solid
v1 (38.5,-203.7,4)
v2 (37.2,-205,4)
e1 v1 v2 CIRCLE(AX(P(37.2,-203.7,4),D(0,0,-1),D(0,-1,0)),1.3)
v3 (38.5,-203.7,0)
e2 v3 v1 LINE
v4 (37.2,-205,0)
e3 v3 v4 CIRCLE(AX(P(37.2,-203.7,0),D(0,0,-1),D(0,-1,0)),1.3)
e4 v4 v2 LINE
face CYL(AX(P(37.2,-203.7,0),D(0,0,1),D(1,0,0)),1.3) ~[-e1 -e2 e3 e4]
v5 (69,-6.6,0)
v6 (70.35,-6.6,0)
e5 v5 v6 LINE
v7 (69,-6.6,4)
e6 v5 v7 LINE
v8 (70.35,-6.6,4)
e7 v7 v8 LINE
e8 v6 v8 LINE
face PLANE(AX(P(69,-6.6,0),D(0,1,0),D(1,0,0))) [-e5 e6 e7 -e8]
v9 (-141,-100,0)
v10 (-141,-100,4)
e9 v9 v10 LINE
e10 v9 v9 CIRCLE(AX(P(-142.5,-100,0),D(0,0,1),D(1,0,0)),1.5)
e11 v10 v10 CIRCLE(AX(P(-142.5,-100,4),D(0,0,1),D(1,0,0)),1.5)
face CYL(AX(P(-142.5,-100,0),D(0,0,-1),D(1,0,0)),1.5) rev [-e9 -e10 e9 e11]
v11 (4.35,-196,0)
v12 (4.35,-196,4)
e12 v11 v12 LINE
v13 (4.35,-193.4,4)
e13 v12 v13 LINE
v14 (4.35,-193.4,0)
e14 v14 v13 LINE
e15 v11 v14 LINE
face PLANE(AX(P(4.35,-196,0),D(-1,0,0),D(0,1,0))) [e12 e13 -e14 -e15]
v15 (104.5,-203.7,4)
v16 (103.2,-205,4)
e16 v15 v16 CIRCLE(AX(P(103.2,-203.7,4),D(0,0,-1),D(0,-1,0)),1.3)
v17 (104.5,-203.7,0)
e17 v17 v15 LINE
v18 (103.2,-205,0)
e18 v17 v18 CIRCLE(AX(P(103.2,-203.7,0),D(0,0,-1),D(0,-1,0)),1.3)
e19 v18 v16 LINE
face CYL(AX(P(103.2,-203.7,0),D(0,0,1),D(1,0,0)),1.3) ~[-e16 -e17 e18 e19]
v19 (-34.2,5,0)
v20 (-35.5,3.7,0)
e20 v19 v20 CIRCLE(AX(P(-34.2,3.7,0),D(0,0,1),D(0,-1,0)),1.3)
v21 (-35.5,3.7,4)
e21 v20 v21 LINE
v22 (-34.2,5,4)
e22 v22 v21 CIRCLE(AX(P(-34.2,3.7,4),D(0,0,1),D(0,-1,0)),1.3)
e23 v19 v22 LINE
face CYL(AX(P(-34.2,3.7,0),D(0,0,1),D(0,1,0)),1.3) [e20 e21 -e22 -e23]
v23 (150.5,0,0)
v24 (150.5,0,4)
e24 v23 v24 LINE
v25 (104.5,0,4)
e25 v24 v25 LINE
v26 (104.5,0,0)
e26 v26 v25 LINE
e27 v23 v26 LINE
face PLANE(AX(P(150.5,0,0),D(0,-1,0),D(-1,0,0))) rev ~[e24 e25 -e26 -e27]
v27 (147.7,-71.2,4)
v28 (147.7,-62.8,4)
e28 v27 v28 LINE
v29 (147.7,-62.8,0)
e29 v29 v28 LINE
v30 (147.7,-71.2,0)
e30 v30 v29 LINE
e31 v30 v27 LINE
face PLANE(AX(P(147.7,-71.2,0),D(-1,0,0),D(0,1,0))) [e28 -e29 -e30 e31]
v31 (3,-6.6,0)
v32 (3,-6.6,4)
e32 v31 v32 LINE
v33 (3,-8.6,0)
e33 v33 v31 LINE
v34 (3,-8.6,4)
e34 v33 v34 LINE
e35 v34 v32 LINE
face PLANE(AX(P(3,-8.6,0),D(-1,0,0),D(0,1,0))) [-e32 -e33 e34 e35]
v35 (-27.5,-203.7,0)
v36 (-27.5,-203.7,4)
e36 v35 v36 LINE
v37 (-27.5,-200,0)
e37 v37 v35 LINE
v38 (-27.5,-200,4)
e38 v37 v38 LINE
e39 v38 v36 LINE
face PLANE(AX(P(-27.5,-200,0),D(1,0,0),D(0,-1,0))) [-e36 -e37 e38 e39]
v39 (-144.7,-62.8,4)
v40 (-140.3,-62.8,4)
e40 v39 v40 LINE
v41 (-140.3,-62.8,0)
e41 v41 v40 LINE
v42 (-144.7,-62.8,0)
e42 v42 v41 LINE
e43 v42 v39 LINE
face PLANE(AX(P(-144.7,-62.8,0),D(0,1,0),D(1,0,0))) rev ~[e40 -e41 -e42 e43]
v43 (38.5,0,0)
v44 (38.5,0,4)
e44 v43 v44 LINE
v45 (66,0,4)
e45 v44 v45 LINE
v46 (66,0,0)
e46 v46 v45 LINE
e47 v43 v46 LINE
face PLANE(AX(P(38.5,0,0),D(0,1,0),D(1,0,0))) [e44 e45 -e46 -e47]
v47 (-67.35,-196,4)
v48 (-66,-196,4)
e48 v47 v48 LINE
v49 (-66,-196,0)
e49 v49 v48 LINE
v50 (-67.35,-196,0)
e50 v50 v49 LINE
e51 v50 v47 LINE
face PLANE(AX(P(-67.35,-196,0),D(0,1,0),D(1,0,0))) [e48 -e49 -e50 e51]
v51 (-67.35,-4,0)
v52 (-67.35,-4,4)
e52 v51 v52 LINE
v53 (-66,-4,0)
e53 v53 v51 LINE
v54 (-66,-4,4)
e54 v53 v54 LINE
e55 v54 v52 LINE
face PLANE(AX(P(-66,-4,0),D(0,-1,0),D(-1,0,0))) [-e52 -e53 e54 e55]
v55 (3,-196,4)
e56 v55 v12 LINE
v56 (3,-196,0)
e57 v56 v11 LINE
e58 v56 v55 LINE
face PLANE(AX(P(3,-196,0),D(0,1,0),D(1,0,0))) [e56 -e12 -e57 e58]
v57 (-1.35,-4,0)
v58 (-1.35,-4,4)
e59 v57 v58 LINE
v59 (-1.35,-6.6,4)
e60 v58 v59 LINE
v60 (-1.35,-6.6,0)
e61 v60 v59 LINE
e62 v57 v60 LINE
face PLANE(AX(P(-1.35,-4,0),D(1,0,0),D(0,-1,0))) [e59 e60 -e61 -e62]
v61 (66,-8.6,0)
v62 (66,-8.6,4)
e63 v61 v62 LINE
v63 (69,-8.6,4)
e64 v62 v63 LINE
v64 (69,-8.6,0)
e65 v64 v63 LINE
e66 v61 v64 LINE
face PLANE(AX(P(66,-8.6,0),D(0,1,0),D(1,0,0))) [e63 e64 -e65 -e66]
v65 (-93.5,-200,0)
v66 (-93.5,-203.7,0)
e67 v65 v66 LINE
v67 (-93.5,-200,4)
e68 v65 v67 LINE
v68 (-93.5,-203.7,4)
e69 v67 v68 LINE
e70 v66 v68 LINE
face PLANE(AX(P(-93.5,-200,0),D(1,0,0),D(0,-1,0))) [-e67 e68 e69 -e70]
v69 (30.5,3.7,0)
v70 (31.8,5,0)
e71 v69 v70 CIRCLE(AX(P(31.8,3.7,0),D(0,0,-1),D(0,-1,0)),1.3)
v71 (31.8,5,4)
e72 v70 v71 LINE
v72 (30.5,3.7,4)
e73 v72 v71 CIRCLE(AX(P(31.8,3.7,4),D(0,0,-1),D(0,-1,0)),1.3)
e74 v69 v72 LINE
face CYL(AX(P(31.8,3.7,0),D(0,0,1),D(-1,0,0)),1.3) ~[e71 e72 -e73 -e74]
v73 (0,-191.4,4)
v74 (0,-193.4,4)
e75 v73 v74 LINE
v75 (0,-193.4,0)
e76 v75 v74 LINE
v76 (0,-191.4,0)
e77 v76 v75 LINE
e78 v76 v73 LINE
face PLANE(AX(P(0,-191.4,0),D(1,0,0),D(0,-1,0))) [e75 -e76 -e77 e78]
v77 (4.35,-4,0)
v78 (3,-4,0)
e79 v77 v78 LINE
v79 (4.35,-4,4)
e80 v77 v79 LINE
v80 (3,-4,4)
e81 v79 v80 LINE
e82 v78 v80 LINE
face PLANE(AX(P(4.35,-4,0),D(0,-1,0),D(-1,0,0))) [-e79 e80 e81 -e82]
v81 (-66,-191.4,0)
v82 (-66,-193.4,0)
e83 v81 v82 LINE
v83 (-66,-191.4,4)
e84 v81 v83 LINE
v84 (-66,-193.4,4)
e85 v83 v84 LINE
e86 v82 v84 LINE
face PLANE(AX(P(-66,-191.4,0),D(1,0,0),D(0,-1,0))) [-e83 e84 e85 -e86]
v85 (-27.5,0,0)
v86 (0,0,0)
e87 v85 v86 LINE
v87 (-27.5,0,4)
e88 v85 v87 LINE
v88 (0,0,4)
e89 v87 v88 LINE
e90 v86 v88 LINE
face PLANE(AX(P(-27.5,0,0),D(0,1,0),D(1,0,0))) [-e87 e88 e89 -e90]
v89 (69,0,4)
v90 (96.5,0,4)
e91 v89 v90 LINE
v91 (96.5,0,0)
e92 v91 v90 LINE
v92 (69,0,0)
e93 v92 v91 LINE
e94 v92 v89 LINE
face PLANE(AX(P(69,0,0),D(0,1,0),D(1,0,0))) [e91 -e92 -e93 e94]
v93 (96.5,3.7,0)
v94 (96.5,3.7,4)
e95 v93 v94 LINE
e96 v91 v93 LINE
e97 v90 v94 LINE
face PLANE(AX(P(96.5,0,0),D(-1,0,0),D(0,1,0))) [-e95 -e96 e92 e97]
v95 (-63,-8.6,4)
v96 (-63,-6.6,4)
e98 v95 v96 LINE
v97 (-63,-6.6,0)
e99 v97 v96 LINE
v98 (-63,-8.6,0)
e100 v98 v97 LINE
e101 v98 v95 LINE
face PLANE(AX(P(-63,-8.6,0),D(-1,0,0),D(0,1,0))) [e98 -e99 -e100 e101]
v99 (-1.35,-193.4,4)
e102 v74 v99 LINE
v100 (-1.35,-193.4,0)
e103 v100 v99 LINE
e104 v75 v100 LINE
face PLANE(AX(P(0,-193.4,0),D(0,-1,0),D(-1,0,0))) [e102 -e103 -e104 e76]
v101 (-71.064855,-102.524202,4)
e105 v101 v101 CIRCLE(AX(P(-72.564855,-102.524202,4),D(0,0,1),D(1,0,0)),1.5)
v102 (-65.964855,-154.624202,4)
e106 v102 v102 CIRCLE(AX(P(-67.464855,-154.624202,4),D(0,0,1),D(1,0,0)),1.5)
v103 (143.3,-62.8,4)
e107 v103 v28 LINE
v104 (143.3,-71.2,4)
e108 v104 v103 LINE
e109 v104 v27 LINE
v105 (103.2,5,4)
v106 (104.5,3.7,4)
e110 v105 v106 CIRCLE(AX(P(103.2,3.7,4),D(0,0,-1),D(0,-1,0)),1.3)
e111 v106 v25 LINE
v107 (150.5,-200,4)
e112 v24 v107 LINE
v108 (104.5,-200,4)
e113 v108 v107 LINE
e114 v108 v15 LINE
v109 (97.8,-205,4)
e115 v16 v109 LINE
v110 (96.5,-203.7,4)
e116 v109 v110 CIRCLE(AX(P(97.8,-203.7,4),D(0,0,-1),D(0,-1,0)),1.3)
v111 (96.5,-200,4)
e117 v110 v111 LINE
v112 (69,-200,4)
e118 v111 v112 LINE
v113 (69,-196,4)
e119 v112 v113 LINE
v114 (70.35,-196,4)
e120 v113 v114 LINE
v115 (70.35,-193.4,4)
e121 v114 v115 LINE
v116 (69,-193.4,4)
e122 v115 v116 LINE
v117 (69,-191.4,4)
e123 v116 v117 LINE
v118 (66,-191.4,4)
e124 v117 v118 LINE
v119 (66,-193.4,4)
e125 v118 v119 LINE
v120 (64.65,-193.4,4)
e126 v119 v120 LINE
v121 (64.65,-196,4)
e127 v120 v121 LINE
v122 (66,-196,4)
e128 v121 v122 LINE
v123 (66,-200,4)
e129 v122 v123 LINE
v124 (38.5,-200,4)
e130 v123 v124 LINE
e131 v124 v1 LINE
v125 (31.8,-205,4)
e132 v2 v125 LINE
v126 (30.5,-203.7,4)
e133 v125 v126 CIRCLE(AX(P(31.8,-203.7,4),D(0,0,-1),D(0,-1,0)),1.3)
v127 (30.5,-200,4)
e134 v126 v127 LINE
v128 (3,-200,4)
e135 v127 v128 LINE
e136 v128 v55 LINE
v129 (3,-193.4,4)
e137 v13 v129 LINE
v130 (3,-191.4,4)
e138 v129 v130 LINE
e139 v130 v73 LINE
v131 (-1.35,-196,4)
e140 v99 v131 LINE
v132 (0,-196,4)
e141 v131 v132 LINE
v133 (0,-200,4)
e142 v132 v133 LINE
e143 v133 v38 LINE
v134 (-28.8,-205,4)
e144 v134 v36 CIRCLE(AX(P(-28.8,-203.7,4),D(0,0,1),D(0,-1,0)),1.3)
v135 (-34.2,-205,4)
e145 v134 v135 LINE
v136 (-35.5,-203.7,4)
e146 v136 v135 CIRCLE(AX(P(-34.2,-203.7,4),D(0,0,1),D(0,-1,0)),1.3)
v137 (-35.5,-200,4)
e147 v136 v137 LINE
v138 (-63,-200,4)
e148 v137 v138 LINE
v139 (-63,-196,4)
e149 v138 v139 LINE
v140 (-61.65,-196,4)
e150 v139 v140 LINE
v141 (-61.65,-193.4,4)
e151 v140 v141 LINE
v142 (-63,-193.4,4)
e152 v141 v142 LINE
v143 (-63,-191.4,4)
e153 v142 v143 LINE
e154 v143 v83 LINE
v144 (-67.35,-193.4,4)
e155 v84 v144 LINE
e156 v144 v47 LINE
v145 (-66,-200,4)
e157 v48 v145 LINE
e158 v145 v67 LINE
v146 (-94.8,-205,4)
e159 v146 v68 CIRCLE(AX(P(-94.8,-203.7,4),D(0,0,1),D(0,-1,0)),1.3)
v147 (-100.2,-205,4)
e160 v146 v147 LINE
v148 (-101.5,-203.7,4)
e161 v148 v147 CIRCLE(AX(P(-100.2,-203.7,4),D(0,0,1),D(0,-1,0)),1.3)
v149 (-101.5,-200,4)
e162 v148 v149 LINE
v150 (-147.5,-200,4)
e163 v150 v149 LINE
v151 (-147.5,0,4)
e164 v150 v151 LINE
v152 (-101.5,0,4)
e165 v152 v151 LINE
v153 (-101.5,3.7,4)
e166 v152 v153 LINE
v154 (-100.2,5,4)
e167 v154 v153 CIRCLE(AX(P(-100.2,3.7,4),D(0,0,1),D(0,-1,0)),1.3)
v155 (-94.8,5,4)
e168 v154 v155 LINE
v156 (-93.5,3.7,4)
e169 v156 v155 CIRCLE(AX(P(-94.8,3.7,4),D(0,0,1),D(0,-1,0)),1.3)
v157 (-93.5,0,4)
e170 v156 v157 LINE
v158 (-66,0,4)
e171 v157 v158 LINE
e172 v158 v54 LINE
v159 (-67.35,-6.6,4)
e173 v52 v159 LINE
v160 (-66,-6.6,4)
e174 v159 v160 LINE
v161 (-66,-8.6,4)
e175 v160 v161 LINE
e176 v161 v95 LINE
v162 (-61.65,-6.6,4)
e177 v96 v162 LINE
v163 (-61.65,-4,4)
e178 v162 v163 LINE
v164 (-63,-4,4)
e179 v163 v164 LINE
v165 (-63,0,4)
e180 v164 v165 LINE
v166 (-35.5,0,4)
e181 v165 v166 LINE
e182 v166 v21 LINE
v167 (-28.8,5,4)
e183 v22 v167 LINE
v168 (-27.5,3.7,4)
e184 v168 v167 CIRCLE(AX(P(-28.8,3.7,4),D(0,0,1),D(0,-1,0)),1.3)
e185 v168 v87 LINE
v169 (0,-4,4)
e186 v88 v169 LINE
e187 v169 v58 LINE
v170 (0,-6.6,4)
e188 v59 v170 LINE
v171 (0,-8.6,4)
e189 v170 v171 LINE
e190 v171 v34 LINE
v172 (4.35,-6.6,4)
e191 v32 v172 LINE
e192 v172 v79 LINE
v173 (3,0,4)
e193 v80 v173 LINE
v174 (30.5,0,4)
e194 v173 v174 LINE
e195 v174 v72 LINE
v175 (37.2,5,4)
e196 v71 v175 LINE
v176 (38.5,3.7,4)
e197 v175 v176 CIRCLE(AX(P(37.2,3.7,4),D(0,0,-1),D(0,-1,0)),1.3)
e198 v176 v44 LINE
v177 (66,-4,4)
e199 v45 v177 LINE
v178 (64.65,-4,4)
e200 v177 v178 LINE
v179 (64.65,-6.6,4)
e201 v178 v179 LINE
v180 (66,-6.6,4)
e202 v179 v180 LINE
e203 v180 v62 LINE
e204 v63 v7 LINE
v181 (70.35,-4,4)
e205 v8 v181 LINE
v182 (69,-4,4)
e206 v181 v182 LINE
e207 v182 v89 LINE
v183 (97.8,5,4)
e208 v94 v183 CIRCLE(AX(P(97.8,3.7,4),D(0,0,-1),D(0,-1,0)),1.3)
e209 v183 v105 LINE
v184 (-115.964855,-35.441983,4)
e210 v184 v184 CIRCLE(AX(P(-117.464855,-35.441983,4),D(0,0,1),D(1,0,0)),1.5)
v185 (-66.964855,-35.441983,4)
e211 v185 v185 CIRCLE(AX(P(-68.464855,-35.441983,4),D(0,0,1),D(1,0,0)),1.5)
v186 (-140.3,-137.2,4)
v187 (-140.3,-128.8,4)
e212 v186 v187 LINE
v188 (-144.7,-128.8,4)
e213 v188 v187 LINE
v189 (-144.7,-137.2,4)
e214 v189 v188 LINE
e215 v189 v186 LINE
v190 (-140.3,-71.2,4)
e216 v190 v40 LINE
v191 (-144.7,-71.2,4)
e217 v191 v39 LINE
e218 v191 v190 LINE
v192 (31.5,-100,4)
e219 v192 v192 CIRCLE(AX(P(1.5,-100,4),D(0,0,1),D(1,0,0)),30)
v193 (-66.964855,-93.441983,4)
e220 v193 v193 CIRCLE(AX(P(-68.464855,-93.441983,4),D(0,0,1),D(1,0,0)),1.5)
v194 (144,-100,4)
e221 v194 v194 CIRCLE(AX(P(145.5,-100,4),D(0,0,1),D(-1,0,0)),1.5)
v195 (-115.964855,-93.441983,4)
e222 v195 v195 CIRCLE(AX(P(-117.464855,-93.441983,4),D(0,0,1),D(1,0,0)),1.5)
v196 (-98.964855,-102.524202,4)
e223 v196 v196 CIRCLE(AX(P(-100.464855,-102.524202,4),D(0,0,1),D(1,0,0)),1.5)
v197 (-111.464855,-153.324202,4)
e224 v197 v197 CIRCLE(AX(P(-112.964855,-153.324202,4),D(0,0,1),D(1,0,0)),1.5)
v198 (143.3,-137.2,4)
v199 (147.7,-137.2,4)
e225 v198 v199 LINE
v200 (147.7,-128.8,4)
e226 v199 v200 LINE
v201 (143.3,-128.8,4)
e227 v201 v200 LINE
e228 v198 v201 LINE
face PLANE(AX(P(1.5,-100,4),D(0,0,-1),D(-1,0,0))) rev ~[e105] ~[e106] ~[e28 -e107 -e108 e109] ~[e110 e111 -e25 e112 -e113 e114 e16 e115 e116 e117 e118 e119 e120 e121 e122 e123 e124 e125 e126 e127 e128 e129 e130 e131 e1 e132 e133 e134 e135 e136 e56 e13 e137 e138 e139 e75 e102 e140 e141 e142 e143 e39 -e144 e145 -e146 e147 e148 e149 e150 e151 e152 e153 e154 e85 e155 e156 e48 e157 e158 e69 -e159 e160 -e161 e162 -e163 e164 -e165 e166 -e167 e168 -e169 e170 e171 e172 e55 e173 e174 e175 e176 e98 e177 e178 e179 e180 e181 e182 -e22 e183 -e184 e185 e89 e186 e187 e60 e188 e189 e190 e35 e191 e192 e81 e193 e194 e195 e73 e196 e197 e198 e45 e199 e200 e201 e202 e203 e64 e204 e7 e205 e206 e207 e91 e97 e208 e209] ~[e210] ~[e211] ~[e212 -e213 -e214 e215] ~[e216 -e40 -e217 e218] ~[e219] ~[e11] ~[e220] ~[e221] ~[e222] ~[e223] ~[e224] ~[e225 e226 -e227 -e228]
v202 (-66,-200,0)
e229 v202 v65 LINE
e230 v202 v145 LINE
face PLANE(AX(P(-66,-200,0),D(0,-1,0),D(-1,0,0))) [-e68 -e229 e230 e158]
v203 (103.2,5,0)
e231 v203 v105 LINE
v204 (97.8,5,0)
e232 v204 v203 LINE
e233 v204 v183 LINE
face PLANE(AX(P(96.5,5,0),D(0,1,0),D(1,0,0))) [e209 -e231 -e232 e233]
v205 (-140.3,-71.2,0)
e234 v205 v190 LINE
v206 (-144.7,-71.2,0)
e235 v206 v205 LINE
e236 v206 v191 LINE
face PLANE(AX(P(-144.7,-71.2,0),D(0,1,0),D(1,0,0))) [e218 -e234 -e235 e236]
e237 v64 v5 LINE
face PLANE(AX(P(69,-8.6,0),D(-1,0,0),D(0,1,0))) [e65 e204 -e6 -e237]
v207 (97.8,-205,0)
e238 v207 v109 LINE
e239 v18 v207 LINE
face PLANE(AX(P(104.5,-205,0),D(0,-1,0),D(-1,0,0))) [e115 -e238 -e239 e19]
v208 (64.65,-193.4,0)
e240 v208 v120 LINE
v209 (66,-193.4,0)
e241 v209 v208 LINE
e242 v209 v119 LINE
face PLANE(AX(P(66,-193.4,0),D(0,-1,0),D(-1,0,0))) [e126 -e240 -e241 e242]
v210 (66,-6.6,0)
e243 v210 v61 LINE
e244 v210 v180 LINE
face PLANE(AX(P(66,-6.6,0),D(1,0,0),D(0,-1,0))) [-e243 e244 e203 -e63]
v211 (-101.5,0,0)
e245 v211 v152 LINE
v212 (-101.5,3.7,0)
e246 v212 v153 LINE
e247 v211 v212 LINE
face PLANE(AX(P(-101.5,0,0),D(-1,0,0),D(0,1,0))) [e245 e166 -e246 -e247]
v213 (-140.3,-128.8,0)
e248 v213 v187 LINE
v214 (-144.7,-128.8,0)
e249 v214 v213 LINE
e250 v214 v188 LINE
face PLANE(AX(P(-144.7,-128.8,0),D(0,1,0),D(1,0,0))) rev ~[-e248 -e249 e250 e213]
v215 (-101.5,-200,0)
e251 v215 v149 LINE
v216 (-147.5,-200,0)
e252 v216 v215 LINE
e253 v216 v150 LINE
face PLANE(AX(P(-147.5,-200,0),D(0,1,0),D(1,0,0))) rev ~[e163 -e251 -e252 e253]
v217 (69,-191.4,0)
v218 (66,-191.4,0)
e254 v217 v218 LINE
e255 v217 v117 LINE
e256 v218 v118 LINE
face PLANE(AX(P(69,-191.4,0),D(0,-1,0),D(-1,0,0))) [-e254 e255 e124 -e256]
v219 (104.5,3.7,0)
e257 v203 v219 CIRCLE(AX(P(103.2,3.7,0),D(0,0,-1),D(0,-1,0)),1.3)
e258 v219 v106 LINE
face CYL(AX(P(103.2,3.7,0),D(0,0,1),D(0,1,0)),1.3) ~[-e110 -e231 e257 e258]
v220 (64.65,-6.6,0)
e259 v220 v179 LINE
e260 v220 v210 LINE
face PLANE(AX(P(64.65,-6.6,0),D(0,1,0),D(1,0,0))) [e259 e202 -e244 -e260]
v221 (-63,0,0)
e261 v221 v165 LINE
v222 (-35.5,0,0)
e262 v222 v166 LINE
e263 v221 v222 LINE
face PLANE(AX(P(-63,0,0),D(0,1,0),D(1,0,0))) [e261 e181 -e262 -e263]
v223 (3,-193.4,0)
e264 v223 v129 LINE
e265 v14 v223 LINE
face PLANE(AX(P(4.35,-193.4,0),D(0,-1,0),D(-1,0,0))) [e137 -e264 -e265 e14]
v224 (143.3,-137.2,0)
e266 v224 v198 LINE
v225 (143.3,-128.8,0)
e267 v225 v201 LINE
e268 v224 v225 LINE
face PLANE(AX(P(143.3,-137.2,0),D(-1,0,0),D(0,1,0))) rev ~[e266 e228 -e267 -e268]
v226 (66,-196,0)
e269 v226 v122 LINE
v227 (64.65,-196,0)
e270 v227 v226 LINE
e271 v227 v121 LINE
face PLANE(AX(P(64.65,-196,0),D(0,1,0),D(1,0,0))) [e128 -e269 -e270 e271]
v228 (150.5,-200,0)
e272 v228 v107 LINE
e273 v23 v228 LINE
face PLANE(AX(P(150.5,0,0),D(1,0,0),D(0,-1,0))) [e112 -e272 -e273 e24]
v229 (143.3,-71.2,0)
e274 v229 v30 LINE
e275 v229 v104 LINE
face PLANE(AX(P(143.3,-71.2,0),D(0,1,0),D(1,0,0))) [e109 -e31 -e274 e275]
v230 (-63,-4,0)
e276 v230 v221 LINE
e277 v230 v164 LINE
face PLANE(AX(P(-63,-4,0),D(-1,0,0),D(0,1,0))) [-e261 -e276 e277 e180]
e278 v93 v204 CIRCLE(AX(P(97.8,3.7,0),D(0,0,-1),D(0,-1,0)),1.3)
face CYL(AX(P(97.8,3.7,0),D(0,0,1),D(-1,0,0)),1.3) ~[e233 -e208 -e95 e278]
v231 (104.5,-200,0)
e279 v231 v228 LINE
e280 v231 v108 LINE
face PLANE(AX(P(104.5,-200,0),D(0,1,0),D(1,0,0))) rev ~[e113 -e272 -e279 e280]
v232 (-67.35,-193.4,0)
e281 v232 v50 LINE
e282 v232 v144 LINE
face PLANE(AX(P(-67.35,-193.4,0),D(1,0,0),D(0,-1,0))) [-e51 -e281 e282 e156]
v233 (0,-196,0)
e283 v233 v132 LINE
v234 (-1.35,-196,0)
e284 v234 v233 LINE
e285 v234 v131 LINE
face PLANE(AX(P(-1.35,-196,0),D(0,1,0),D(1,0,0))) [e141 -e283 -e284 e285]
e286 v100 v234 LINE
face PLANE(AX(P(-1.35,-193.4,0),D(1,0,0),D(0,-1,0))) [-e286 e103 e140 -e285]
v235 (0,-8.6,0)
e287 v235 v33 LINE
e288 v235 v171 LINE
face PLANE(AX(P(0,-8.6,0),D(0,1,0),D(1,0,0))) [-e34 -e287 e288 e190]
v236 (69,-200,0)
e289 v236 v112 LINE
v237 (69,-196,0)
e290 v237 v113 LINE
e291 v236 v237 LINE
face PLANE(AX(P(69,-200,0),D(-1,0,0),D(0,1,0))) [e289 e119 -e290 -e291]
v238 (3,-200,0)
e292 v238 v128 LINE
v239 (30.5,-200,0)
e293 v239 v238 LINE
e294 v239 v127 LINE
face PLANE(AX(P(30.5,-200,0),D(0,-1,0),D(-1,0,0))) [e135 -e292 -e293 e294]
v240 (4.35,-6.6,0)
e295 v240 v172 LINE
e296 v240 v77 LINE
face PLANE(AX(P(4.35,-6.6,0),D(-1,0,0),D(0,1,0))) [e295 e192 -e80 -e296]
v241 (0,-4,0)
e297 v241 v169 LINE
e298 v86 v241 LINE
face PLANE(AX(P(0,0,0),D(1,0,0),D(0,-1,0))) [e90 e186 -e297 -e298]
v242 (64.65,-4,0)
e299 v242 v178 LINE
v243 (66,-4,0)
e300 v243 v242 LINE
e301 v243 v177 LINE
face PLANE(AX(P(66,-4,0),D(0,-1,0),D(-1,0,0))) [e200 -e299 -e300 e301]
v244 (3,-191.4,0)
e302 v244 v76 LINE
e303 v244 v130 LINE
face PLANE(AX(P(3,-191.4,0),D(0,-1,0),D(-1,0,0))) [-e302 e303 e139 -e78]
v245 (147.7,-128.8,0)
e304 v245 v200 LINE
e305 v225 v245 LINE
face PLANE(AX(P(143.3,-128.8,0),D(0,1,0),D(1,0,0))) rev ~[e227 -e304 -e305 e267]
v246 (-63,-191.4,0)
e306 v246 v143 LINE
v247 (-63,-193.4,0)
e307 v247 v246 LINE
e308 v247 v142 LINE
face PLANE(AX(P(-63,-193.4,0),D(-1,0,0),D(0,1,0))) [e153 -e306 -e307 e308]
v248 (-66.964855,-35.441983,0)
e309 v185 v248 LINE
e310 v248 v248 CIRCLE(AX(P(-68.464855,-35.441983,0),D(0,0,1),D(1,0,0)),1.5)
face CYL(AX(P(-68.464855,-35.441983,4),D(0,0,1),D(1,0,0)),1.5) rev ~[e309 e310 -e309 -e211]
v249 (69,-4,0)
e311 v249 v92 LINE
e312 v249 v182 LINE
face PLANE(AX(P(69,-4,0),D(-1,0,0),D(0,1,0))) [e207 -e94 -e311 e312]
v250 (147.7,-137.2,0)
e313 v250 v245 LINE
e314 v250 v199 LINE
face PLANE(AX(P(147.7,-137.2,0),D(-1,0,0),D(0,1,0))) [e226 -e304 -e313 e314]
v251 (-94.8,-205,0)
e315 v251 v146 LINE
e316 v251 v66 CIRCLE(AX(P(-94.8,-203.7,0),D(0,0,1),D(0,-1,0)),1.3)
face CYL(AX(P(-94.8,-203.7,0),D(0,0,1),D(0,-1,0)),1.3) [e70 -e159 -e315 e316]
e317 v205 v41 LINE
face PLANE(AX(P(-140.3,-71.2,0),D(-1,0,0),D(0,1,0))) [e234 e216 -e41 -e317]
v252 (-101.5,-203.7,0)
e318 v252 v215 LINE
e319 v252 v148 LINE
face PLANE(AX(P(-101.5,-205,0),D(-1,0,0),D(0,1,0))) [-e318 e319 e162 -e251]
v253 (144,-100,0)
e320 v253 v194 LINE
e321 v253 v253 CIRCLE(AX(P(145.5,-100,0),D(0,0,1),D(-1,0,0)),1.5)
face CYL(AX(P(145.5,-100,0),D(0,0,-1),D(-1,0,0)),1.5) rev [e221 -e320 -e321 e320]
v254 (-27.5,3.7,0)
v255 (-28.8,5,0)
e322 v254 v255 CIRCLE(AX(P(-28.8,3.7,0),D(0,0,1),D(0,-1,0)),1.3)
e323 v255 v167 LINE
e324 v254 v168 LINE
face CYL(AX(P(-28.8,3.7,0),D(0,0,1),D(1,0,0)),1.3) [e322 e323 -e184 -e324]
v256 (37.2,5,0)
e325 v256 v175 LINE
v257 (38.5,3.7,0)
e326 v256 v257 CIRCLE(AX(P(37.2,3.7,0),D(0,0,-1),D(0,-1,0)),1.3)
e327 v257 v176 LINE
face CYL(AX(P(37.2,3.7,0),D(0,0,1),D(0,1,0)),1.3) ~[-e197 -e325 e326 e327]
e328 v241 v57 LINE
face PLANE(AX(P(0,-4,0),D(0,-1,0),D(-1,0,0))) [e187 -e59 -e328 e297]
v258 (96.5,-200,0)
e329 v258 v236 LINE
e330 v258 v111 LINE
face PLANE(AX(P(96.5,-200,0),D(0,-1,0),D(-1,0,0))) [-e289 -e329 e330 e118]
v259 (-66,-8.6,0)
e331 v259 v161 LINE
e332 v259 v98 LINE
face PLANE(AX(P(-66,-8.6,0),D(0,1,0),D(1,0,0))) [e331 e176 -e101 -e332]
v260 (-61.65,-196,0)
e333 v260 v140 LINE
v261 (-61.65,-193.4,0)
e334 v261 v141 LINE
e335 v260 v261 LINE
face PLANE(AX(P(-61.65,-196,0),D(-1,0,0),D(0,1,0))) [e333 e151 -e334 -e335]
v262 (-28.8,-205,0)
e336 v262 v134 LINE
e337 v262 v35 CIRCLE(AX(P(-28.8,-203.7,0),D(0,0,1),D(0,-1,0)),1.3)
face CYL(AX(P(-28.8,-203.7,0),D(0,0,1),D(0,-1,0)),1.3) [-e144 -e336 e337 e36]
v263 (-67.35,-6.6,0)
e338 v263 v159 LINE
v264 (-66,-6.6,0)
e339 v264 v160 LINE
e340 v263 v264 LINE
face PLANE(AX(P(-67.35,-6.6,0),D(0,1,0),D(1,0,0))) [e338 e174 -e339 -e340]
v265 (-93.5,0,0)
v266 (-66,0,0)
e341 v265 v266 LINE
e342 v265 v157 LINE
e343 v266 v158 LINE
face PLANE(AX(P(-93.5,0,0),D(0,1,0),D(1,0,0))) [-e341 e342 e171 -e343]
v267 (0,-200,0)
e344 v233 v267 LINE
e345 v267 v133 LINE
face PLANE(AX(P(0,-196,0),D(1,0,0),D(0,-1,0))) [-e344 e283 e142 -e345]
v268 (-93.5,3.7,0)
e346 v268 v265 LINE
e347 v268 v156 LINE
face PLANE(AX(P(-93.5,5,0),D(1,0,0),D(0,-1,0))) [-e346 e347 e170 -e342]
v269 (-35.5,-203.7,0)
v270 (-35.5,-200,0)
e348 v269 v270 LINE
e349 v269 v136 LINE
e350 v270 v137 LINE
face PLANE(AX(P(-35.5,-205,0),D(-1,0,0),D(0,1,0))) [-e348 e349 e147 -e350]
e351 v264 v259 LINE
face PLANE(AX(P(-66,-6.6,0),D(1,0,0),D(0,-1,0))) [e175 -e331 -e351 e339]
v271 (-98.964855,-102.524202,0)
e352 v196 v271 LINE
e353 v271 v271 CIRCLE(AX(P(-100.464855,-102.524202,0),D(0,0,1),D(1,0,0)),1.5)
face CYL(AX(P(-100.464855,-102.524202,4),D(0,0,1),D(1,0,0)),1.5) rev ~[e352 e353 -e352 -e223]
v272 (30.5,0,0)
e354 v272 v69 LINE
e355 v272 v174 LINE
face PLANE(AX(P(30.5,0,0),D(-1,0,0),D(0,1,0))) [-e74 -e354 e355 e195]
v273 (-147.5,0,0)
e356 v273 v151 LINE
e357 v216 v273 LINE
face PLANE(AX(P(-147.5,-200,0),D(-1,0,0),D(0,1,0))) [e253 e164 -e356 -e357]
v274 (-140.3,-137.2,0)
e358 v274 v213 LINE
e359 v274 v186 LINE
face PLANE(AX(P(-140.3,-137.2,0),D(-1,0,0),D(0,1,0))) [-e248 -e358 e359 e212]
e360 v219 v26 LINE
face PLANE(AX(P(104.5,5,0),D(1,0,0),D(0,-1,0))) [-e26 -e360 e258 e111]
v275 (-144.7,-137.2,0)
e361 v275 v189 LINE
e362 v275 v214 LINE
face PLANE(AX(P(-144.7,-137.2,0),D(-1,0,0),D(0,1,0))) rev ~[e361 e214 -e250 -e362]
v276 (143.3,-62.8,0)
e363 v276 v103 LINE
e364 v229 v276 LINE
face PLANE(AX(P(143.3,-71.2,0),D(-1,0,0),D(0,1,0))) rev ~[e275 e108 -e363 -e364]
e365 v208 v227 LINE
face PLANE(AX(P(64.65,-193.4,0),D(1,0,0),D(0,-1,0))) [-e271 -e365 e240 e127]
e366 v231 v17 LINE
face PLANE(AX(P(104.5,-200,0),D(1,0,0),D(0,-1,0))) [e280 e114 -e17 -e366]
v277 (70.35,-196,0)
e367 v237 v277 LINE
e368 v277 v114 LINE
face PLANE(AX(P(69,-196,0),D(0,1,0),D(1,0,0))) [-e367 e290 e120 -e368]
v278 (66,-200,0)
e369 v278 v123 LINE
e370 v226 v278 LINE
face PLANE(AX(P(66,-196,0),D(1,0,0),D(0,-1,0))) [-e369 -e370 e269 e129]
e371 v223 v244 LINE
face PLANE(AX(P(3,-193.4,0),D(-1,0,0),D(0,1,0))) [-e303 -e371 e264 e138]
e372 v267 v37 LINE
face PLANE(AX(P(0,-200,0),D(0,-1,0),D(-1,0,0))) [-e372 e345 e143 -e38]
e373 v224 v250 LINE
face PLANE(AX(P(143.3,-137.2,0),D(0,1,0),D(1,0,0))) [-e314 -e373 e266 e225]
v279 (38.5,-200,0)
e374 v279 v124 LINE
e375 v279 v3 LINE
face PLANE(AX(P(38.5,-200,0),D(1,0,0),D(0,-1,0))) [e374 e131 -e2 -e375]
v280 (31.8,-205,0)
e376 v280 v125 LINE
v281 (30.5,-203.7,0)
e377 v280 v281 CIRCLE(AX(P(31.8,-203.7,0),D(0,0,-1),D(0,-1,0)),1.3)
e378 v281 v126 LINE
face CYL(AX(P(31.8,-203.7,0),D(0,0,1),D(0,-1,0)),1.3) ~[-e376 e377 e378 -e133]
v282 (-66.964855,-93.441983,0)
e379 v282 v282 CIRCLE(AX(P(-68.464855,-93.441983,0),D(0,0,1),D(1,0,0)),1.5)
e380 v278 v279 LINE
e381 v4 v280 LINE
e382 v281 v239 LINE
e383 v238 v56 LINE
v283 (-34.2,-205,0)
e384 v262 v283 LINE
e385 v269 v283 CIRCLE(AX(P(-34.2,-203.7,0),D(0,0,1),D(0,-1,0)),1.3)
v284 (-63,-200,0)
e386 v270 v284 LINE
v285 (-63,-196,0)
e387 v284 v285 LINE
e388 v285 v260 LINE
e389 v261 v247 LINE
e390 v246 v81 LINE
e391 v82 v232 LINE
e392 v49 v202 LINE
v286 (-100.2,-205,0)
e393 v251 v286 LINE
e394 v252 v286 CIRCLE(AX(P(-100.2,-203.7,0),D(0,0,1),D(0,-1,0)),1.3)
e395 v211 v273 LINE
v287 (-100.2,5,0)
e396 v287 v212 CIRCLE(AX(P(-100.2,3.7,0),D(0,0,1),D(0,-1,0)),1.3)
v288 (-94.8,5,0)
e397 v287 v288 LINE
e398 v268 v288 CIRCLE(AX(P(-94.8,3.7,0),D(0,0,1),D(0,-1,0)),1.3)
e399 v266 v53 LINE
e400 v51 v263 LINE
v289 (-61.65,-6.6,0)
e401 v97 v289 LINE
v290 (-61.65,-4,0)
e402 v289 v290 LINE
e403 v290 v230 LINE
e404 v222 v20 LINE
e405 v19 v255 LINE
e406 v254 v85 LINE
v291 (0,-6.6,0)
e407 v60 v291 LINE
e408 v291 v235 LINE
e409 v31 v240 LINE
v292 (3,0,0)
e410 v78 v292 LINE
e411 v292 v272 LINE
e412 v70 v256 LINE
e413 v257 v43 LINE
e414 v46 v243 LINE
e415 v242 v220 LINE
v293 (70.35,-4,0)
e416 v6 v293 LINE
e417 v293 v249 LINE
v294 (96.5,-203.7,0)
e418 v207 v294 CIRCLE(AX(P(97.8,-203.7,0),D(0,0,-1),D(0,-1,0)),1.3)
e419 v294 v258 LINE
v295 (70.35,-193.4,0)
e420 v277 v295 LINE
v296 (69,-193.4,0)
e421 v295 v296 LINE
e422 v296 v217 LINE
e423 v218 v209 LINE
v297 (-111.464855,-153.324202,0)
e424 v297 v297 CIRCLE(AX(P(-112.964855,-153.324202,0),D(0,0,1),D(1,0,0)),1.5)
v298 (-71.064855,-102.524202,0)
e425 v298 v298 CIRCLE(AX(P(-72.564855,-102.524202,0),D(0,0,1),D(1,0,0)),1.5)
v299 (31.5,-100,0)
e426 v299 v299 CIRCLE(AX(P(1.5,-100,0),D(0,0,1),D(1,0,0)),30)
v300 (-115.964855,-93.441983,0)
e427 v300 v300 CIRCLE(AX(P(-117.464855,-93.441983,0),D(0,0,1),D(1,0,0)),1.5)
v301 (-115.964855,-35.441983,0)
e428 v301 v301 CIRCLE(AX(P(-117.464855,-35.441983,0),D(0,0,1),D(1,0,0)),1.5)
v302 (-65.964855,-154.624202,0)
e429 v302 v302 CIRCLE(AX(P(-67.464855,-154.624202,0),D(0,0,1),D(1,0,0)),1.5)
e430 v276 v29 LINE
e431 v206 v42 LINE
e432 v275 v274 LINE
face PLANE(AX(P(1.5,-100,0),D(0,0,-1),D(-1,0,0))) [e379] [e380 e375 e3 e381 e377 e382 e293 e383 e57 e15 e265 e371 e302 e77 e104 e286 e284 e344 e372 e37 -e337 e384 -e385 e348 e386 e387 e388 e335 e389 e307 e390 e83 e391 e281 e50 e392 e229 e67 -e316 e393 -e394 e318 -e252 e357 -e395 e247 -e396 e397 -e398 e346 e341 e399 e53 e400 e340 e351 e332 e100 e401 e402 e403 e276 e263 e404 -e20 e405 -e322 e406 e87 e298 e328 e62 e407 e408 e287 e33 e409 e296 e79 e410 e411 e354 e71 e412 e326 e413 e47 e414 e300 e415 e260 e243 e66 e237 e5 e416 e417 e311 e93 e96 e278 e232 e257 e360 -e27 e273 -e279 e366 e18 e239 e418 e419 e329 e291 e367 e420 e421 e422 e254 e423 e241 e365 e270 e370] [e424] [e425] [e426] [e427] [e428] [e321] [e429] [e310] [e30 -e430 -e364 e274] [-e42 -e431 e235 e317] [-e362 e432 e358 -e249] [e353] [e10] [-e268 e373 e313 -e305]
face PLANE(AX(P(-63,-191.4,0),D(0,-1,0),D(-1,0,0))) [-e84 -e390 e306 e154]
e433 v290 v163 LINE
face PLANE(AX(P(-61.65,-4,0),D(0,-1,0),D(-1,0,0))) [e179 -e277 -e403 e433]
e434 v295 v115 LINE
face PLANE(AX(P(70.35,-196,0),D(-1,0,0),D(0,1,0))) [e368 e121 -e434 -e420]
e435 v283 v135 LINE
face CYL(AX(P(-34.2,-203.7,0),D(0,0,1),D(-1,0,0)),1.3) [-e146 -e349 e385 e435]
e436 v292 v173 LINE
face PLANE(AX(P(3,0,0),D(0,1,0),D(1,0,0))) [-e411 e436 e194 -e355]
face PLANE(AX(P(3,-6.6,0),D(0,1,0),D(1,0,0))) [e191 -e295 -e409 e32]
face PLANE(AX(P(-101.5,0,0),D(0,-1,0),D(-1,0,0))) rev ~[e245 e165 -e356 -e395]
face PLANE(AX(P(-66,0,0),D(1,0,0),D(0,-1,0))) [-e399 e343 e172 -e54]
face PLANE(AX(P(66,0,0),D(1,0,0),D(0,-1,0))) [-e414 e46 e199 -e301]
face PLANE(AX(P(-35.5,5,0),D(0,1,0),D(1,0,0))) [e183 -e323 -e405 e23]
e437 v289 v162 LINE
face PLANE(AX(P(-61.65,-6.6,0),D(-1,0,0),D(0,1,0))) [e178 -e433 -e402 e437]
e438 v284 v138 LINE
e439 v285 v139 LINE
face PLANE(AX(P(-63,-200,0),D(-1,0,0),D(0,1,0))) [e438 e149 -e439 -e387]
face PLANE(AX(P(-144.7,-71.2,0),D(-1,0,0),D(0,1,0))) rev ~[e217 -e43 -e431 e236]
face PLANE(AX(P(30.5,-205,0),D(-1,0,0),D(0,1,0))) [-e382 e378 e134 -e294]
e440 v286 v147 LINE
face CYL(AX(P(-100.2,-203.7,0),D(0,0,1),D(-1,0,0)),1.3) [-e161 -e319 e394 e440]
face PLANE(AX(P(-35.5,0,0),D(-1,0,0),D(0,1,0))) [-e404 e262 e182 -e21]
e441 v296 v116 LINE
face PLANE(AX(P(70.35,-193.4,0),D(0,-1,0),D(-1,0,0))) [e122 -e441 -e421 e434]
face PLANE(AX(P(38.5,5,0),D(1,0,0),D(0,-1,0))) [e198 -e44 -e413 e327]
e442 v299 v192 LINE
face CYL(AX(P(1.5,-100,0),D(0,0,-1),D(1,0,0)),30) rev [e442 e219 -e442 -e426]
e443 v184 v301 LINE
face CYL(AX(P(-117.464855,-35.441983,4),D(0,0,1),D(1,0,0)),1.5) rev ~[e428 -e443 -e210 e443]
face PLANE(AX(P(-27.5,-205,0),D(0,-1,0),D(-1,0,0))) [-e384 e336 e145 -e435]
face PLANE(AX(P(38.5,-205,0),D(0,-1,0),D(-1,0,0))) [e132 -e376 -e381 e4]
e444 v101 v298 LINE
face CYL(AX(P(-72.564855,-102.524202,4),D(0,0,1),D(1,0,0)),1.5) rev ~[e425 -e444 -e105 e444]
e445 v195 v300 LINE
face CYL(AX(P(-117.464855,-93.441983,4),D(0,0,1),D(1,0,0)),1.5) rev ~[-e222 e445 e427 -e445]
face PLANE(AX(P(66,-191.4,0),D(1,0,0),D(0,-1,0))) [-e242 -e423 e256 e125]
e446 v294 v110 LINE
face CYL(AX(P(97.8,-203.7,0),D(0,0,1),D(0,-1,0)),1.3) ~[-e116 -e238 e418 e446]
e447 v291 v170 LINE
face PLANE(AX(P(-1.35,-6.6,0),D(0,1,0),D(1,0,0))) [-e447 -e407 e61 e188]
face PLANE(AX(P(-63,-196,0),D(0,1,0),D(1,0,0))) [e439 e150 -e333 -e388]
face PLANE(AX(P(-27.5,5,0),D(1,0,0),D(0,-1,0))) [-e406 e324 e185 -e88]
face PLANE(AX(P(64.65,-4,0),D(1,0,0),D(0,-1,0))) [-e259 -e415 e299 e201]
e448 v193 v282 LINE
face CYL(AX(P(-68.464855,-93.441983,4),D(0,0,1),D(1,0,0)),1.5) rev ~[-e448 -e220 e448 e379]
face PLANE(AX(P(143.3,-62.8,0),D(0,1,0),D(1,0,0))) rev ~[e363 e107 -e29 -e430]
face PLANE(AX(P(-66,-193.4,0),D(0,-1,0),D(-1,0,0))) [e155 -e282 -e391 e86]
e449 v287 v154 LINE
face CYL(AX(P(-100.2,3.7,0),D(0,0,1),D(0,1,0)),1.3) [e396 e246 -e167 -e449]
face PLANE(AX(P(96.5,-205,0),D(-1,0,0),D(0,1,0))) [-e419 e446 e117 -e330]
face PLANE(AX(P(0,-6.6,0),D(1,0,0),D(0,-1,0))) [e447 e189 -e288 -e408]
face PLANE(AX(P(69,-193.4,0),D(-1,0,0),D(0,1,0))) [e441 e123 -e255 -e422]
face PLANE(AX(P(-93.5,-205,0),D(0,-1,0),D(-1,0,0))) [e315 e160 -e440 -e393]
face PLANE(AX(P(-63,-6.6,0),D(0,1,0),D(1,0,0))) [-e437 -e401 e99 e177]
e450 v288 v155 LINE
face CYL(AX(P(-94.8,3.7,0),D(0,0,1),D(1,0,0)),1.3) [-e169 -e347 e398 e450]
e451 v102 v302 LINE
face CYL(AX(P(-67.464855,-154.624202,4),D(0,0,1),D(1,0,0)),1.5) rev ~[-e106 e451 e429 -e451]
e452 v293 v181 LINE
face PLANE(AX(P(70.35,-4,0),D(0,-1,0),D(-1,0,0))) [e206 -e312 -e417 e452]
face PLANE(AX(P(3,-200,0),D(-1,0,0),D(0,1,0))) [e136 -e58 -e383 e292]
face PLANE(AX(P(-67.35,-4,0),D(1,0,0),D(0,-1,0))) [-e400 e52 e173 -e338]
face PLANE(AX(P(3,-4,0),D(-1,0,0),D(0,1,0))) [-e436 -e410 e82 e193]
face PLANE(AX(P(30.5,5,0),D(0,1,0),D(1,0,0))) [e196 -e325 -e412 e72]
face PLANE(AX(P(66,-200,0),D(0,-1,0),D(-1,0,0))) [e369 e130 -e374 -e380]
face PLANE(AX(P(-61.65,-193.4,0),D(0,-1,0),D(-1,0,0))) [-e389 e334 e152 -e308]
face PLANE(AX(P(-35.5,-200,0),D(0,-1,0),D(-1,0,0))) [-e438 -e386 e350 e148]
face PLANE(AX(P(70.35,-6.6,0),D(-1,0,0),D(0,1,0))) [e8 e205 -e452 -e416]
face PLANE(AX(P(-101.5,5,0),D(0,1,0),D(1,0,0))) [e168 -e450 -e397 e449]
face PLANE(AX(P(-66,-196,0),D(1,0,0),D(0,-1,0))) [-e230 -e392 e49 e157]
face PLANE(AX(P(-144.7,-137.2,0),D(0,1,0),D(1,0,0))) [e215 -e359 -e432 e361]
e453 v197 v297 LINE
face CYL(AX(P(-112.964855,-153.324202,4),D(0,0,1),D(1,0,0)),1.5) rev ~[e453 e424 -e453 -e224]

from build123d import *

# Parameters (mm, degrees)
SKETCH_1_R          = 1.5
SKETCH_1_R_2        = 30
SKETCH_1_W          = 4.4
SKETCH_1_H          = 8.4
EXTRUDE_1_DEPTH     = 4
SKETCH_4_R          = 1.5
CUT_EXTRUDE_1_DEPTH = 10
FILLET_1_R          = 1.3


with BuildPart() as part:
    # 草图1 → 凸台-拉伸1 (new body)
    with BuildSketch(Plane.XY):
        Polygon((0, 0), (0, -4), (-1.35, -4), (-1.35, -6.6), (0, -6.6), (0, -8.6), (3, -8.6), (3, -6.6), (4.35, -6.6), (4.35, -4), (3, -4), (3, 0), (30.5, 0), (30.5, 5), (38.5, 5), (38.5, 0), (66, 0), (66, -4), (64.65, -4), (64.65, -6.6), (66, -6.6), (66, -8.6), (69, -8.6), (69, -6.6), (70.35, -6.6), (70.35, -4), (69, -4), (69, 0), (96.5, 0), (96.5, 5), (104.5, 5), (104.5, 0), (132, 0), (143.5, 0), (145.5, 0), (150.5, 0), (150.5, -200), (145.5, -200), (143.5, -200), (132, -200), (104.5, -200), (104.5, -205), (96.5, -205), (96.5, -200), (69, -200), (69, -196), (70.35, -196), (70.35, -193.4), (69, -193.4), (69, -191.4), (66, -191.4), (66, -193.4), (64.65, -193.4), (64.65, -196), (66, -196), (66, -200), (38.5, -200), (38.5, -205), (30.5, -205), (30.5, -200), (3, -200), (3, -196), (4.35, -196), (4.35, -193.4), (3, -193.4), (3, -191.4), (0, -191.4), (0, -193.4), (-1.35, -193.4), (-1.35, -196), (0, -196), (0, -200), (-27.5, -200), (-27.5, -205), (-35.5, -205), (-35.5, -200), (-63, -200), (-63, -196), (-61.65, -196), (-61.65, -193.4), (-63, -193.4), (-63, -191.4), (-66, -191.4), (-66, -193.4), (-67.35, -193.4), (-67.35, -196), (-66, -196), (-66, -200), (-93.5, -200), (-93.5, -205), (-101.5, -205), (-101.5, -200), (-129, -200), (-140.5, -200), (-142.5, -200), (-147.5, -200), (-147.5, 0), (-142.5, 0), (-140.5, 0), (-129, 0), (-101.5, 0), (-101.5, 5), (-93.5, 5), (-93.5, 0), (-66, 0), (-66, -4), (-67.35, -4), (-67.35, -6.6), (-66, -6.6), (-66, -8.6), (-63, -8.6), (-63, -6.6), (-61.65, -6.6), (-61.65, -4), (-63, -4), (-63, 0), (-35.5, 0), (-35.5, 5), (-27.5, 5), (-27.5, 0), align=None)
        with Locations((-142.5, -100)):
            Circle(SKETCH_1_R, mode=Mode.SUBTRACT)
        with Locations(Location((145.5, -100, 0), (0, 0, 180))):
            Circle(SKETCH_1_R, mode=Mode.SUBTRACT)
        with Locations((1.5, -100)):
            Circle(SKETCH_1_R_2, mode=Mode.SUBTRACT)
        with Locations((-142.5, -67)):
            Rectangle(SKETCH_1_W, SKETCH_1_H, mode=Mode.SUBTRACT)
        with Locations((-142.5, -133)):
            Rectangle(SKETCH_1_W, SKETCH_1_H, mode=Mode.SUBTRACT)
        with Locations((145.5, -133)):
            Rectangle(SKETCH_1_W, SKETCH_1_H, mode=Mode.SUBTRACT)
        with Locations((145.5, -67)):
            Rectangle(SKETCH_1_W, SKETCH_1_H, mode=Mode.SUBTRACT)
    extrude(amount=EXTRUDE_1_DEPTH)

    # 草图4 → 切除-拉伸1 (cut)
    with BuildSketch(Plane.XY.offset(4)):
        with Locations((-100.464854909, -102.524202067)):
            Circle(SKETCH_4_R)
        with Locations((-72.564854909, -102.524202067)):
            Circle(SKETCH_4_R)
        with Locations((-112.964854909, -153.324202067)):
            Circle(SKETCH_4_R)
        with Locations((-67.464854909, -154.624202067)):
            Circle(SKETCH_4_R)
        with Locations((-117.464854909, -35.441983185)):
            Circle(SKETCH_4_R)
        with Locations((-68.464854909, -35.441983185)):
            Circle(SKETCH_4_R)
        with Locations((-117.464854909, -93.441983185)):
            Circle(SKETCH_4_R)
        with Locations((-68.464854909, -93.441983185)):
            Circle(SKETCH_4_R)
    extrude(amount=-CUT_EXTRUDE_1_DEPTH, mode=Mode.SUBTRACT)

    # 圆角1
    fillet_1_edges = [part.edges().sort_by_distance(p)[0] for p in [
        (30.5, 5, 2),
        (38.5, 5, 2),
        (96.5, 5, 2),
        (104.5, 5, 2),
        (104.5, -205, 2),
        (96.5, -205, 2),
        (38.5, -205, 2),
        (30.5, -205, 2),
        (-27.5, -205, 2),
        (-35.5, -205, 2),
        (-93.5, -205, 2),
        (-101.5, -205, 2),
        (-101.5, 5, 2),
        (-93.5, 5, 2),
        (-35.5, 5, 2),
        (-27.5, 5, 2),
    ]]
    fillet(fillet_1_edges, radius=FILLET_1_R)


solid = part.part
